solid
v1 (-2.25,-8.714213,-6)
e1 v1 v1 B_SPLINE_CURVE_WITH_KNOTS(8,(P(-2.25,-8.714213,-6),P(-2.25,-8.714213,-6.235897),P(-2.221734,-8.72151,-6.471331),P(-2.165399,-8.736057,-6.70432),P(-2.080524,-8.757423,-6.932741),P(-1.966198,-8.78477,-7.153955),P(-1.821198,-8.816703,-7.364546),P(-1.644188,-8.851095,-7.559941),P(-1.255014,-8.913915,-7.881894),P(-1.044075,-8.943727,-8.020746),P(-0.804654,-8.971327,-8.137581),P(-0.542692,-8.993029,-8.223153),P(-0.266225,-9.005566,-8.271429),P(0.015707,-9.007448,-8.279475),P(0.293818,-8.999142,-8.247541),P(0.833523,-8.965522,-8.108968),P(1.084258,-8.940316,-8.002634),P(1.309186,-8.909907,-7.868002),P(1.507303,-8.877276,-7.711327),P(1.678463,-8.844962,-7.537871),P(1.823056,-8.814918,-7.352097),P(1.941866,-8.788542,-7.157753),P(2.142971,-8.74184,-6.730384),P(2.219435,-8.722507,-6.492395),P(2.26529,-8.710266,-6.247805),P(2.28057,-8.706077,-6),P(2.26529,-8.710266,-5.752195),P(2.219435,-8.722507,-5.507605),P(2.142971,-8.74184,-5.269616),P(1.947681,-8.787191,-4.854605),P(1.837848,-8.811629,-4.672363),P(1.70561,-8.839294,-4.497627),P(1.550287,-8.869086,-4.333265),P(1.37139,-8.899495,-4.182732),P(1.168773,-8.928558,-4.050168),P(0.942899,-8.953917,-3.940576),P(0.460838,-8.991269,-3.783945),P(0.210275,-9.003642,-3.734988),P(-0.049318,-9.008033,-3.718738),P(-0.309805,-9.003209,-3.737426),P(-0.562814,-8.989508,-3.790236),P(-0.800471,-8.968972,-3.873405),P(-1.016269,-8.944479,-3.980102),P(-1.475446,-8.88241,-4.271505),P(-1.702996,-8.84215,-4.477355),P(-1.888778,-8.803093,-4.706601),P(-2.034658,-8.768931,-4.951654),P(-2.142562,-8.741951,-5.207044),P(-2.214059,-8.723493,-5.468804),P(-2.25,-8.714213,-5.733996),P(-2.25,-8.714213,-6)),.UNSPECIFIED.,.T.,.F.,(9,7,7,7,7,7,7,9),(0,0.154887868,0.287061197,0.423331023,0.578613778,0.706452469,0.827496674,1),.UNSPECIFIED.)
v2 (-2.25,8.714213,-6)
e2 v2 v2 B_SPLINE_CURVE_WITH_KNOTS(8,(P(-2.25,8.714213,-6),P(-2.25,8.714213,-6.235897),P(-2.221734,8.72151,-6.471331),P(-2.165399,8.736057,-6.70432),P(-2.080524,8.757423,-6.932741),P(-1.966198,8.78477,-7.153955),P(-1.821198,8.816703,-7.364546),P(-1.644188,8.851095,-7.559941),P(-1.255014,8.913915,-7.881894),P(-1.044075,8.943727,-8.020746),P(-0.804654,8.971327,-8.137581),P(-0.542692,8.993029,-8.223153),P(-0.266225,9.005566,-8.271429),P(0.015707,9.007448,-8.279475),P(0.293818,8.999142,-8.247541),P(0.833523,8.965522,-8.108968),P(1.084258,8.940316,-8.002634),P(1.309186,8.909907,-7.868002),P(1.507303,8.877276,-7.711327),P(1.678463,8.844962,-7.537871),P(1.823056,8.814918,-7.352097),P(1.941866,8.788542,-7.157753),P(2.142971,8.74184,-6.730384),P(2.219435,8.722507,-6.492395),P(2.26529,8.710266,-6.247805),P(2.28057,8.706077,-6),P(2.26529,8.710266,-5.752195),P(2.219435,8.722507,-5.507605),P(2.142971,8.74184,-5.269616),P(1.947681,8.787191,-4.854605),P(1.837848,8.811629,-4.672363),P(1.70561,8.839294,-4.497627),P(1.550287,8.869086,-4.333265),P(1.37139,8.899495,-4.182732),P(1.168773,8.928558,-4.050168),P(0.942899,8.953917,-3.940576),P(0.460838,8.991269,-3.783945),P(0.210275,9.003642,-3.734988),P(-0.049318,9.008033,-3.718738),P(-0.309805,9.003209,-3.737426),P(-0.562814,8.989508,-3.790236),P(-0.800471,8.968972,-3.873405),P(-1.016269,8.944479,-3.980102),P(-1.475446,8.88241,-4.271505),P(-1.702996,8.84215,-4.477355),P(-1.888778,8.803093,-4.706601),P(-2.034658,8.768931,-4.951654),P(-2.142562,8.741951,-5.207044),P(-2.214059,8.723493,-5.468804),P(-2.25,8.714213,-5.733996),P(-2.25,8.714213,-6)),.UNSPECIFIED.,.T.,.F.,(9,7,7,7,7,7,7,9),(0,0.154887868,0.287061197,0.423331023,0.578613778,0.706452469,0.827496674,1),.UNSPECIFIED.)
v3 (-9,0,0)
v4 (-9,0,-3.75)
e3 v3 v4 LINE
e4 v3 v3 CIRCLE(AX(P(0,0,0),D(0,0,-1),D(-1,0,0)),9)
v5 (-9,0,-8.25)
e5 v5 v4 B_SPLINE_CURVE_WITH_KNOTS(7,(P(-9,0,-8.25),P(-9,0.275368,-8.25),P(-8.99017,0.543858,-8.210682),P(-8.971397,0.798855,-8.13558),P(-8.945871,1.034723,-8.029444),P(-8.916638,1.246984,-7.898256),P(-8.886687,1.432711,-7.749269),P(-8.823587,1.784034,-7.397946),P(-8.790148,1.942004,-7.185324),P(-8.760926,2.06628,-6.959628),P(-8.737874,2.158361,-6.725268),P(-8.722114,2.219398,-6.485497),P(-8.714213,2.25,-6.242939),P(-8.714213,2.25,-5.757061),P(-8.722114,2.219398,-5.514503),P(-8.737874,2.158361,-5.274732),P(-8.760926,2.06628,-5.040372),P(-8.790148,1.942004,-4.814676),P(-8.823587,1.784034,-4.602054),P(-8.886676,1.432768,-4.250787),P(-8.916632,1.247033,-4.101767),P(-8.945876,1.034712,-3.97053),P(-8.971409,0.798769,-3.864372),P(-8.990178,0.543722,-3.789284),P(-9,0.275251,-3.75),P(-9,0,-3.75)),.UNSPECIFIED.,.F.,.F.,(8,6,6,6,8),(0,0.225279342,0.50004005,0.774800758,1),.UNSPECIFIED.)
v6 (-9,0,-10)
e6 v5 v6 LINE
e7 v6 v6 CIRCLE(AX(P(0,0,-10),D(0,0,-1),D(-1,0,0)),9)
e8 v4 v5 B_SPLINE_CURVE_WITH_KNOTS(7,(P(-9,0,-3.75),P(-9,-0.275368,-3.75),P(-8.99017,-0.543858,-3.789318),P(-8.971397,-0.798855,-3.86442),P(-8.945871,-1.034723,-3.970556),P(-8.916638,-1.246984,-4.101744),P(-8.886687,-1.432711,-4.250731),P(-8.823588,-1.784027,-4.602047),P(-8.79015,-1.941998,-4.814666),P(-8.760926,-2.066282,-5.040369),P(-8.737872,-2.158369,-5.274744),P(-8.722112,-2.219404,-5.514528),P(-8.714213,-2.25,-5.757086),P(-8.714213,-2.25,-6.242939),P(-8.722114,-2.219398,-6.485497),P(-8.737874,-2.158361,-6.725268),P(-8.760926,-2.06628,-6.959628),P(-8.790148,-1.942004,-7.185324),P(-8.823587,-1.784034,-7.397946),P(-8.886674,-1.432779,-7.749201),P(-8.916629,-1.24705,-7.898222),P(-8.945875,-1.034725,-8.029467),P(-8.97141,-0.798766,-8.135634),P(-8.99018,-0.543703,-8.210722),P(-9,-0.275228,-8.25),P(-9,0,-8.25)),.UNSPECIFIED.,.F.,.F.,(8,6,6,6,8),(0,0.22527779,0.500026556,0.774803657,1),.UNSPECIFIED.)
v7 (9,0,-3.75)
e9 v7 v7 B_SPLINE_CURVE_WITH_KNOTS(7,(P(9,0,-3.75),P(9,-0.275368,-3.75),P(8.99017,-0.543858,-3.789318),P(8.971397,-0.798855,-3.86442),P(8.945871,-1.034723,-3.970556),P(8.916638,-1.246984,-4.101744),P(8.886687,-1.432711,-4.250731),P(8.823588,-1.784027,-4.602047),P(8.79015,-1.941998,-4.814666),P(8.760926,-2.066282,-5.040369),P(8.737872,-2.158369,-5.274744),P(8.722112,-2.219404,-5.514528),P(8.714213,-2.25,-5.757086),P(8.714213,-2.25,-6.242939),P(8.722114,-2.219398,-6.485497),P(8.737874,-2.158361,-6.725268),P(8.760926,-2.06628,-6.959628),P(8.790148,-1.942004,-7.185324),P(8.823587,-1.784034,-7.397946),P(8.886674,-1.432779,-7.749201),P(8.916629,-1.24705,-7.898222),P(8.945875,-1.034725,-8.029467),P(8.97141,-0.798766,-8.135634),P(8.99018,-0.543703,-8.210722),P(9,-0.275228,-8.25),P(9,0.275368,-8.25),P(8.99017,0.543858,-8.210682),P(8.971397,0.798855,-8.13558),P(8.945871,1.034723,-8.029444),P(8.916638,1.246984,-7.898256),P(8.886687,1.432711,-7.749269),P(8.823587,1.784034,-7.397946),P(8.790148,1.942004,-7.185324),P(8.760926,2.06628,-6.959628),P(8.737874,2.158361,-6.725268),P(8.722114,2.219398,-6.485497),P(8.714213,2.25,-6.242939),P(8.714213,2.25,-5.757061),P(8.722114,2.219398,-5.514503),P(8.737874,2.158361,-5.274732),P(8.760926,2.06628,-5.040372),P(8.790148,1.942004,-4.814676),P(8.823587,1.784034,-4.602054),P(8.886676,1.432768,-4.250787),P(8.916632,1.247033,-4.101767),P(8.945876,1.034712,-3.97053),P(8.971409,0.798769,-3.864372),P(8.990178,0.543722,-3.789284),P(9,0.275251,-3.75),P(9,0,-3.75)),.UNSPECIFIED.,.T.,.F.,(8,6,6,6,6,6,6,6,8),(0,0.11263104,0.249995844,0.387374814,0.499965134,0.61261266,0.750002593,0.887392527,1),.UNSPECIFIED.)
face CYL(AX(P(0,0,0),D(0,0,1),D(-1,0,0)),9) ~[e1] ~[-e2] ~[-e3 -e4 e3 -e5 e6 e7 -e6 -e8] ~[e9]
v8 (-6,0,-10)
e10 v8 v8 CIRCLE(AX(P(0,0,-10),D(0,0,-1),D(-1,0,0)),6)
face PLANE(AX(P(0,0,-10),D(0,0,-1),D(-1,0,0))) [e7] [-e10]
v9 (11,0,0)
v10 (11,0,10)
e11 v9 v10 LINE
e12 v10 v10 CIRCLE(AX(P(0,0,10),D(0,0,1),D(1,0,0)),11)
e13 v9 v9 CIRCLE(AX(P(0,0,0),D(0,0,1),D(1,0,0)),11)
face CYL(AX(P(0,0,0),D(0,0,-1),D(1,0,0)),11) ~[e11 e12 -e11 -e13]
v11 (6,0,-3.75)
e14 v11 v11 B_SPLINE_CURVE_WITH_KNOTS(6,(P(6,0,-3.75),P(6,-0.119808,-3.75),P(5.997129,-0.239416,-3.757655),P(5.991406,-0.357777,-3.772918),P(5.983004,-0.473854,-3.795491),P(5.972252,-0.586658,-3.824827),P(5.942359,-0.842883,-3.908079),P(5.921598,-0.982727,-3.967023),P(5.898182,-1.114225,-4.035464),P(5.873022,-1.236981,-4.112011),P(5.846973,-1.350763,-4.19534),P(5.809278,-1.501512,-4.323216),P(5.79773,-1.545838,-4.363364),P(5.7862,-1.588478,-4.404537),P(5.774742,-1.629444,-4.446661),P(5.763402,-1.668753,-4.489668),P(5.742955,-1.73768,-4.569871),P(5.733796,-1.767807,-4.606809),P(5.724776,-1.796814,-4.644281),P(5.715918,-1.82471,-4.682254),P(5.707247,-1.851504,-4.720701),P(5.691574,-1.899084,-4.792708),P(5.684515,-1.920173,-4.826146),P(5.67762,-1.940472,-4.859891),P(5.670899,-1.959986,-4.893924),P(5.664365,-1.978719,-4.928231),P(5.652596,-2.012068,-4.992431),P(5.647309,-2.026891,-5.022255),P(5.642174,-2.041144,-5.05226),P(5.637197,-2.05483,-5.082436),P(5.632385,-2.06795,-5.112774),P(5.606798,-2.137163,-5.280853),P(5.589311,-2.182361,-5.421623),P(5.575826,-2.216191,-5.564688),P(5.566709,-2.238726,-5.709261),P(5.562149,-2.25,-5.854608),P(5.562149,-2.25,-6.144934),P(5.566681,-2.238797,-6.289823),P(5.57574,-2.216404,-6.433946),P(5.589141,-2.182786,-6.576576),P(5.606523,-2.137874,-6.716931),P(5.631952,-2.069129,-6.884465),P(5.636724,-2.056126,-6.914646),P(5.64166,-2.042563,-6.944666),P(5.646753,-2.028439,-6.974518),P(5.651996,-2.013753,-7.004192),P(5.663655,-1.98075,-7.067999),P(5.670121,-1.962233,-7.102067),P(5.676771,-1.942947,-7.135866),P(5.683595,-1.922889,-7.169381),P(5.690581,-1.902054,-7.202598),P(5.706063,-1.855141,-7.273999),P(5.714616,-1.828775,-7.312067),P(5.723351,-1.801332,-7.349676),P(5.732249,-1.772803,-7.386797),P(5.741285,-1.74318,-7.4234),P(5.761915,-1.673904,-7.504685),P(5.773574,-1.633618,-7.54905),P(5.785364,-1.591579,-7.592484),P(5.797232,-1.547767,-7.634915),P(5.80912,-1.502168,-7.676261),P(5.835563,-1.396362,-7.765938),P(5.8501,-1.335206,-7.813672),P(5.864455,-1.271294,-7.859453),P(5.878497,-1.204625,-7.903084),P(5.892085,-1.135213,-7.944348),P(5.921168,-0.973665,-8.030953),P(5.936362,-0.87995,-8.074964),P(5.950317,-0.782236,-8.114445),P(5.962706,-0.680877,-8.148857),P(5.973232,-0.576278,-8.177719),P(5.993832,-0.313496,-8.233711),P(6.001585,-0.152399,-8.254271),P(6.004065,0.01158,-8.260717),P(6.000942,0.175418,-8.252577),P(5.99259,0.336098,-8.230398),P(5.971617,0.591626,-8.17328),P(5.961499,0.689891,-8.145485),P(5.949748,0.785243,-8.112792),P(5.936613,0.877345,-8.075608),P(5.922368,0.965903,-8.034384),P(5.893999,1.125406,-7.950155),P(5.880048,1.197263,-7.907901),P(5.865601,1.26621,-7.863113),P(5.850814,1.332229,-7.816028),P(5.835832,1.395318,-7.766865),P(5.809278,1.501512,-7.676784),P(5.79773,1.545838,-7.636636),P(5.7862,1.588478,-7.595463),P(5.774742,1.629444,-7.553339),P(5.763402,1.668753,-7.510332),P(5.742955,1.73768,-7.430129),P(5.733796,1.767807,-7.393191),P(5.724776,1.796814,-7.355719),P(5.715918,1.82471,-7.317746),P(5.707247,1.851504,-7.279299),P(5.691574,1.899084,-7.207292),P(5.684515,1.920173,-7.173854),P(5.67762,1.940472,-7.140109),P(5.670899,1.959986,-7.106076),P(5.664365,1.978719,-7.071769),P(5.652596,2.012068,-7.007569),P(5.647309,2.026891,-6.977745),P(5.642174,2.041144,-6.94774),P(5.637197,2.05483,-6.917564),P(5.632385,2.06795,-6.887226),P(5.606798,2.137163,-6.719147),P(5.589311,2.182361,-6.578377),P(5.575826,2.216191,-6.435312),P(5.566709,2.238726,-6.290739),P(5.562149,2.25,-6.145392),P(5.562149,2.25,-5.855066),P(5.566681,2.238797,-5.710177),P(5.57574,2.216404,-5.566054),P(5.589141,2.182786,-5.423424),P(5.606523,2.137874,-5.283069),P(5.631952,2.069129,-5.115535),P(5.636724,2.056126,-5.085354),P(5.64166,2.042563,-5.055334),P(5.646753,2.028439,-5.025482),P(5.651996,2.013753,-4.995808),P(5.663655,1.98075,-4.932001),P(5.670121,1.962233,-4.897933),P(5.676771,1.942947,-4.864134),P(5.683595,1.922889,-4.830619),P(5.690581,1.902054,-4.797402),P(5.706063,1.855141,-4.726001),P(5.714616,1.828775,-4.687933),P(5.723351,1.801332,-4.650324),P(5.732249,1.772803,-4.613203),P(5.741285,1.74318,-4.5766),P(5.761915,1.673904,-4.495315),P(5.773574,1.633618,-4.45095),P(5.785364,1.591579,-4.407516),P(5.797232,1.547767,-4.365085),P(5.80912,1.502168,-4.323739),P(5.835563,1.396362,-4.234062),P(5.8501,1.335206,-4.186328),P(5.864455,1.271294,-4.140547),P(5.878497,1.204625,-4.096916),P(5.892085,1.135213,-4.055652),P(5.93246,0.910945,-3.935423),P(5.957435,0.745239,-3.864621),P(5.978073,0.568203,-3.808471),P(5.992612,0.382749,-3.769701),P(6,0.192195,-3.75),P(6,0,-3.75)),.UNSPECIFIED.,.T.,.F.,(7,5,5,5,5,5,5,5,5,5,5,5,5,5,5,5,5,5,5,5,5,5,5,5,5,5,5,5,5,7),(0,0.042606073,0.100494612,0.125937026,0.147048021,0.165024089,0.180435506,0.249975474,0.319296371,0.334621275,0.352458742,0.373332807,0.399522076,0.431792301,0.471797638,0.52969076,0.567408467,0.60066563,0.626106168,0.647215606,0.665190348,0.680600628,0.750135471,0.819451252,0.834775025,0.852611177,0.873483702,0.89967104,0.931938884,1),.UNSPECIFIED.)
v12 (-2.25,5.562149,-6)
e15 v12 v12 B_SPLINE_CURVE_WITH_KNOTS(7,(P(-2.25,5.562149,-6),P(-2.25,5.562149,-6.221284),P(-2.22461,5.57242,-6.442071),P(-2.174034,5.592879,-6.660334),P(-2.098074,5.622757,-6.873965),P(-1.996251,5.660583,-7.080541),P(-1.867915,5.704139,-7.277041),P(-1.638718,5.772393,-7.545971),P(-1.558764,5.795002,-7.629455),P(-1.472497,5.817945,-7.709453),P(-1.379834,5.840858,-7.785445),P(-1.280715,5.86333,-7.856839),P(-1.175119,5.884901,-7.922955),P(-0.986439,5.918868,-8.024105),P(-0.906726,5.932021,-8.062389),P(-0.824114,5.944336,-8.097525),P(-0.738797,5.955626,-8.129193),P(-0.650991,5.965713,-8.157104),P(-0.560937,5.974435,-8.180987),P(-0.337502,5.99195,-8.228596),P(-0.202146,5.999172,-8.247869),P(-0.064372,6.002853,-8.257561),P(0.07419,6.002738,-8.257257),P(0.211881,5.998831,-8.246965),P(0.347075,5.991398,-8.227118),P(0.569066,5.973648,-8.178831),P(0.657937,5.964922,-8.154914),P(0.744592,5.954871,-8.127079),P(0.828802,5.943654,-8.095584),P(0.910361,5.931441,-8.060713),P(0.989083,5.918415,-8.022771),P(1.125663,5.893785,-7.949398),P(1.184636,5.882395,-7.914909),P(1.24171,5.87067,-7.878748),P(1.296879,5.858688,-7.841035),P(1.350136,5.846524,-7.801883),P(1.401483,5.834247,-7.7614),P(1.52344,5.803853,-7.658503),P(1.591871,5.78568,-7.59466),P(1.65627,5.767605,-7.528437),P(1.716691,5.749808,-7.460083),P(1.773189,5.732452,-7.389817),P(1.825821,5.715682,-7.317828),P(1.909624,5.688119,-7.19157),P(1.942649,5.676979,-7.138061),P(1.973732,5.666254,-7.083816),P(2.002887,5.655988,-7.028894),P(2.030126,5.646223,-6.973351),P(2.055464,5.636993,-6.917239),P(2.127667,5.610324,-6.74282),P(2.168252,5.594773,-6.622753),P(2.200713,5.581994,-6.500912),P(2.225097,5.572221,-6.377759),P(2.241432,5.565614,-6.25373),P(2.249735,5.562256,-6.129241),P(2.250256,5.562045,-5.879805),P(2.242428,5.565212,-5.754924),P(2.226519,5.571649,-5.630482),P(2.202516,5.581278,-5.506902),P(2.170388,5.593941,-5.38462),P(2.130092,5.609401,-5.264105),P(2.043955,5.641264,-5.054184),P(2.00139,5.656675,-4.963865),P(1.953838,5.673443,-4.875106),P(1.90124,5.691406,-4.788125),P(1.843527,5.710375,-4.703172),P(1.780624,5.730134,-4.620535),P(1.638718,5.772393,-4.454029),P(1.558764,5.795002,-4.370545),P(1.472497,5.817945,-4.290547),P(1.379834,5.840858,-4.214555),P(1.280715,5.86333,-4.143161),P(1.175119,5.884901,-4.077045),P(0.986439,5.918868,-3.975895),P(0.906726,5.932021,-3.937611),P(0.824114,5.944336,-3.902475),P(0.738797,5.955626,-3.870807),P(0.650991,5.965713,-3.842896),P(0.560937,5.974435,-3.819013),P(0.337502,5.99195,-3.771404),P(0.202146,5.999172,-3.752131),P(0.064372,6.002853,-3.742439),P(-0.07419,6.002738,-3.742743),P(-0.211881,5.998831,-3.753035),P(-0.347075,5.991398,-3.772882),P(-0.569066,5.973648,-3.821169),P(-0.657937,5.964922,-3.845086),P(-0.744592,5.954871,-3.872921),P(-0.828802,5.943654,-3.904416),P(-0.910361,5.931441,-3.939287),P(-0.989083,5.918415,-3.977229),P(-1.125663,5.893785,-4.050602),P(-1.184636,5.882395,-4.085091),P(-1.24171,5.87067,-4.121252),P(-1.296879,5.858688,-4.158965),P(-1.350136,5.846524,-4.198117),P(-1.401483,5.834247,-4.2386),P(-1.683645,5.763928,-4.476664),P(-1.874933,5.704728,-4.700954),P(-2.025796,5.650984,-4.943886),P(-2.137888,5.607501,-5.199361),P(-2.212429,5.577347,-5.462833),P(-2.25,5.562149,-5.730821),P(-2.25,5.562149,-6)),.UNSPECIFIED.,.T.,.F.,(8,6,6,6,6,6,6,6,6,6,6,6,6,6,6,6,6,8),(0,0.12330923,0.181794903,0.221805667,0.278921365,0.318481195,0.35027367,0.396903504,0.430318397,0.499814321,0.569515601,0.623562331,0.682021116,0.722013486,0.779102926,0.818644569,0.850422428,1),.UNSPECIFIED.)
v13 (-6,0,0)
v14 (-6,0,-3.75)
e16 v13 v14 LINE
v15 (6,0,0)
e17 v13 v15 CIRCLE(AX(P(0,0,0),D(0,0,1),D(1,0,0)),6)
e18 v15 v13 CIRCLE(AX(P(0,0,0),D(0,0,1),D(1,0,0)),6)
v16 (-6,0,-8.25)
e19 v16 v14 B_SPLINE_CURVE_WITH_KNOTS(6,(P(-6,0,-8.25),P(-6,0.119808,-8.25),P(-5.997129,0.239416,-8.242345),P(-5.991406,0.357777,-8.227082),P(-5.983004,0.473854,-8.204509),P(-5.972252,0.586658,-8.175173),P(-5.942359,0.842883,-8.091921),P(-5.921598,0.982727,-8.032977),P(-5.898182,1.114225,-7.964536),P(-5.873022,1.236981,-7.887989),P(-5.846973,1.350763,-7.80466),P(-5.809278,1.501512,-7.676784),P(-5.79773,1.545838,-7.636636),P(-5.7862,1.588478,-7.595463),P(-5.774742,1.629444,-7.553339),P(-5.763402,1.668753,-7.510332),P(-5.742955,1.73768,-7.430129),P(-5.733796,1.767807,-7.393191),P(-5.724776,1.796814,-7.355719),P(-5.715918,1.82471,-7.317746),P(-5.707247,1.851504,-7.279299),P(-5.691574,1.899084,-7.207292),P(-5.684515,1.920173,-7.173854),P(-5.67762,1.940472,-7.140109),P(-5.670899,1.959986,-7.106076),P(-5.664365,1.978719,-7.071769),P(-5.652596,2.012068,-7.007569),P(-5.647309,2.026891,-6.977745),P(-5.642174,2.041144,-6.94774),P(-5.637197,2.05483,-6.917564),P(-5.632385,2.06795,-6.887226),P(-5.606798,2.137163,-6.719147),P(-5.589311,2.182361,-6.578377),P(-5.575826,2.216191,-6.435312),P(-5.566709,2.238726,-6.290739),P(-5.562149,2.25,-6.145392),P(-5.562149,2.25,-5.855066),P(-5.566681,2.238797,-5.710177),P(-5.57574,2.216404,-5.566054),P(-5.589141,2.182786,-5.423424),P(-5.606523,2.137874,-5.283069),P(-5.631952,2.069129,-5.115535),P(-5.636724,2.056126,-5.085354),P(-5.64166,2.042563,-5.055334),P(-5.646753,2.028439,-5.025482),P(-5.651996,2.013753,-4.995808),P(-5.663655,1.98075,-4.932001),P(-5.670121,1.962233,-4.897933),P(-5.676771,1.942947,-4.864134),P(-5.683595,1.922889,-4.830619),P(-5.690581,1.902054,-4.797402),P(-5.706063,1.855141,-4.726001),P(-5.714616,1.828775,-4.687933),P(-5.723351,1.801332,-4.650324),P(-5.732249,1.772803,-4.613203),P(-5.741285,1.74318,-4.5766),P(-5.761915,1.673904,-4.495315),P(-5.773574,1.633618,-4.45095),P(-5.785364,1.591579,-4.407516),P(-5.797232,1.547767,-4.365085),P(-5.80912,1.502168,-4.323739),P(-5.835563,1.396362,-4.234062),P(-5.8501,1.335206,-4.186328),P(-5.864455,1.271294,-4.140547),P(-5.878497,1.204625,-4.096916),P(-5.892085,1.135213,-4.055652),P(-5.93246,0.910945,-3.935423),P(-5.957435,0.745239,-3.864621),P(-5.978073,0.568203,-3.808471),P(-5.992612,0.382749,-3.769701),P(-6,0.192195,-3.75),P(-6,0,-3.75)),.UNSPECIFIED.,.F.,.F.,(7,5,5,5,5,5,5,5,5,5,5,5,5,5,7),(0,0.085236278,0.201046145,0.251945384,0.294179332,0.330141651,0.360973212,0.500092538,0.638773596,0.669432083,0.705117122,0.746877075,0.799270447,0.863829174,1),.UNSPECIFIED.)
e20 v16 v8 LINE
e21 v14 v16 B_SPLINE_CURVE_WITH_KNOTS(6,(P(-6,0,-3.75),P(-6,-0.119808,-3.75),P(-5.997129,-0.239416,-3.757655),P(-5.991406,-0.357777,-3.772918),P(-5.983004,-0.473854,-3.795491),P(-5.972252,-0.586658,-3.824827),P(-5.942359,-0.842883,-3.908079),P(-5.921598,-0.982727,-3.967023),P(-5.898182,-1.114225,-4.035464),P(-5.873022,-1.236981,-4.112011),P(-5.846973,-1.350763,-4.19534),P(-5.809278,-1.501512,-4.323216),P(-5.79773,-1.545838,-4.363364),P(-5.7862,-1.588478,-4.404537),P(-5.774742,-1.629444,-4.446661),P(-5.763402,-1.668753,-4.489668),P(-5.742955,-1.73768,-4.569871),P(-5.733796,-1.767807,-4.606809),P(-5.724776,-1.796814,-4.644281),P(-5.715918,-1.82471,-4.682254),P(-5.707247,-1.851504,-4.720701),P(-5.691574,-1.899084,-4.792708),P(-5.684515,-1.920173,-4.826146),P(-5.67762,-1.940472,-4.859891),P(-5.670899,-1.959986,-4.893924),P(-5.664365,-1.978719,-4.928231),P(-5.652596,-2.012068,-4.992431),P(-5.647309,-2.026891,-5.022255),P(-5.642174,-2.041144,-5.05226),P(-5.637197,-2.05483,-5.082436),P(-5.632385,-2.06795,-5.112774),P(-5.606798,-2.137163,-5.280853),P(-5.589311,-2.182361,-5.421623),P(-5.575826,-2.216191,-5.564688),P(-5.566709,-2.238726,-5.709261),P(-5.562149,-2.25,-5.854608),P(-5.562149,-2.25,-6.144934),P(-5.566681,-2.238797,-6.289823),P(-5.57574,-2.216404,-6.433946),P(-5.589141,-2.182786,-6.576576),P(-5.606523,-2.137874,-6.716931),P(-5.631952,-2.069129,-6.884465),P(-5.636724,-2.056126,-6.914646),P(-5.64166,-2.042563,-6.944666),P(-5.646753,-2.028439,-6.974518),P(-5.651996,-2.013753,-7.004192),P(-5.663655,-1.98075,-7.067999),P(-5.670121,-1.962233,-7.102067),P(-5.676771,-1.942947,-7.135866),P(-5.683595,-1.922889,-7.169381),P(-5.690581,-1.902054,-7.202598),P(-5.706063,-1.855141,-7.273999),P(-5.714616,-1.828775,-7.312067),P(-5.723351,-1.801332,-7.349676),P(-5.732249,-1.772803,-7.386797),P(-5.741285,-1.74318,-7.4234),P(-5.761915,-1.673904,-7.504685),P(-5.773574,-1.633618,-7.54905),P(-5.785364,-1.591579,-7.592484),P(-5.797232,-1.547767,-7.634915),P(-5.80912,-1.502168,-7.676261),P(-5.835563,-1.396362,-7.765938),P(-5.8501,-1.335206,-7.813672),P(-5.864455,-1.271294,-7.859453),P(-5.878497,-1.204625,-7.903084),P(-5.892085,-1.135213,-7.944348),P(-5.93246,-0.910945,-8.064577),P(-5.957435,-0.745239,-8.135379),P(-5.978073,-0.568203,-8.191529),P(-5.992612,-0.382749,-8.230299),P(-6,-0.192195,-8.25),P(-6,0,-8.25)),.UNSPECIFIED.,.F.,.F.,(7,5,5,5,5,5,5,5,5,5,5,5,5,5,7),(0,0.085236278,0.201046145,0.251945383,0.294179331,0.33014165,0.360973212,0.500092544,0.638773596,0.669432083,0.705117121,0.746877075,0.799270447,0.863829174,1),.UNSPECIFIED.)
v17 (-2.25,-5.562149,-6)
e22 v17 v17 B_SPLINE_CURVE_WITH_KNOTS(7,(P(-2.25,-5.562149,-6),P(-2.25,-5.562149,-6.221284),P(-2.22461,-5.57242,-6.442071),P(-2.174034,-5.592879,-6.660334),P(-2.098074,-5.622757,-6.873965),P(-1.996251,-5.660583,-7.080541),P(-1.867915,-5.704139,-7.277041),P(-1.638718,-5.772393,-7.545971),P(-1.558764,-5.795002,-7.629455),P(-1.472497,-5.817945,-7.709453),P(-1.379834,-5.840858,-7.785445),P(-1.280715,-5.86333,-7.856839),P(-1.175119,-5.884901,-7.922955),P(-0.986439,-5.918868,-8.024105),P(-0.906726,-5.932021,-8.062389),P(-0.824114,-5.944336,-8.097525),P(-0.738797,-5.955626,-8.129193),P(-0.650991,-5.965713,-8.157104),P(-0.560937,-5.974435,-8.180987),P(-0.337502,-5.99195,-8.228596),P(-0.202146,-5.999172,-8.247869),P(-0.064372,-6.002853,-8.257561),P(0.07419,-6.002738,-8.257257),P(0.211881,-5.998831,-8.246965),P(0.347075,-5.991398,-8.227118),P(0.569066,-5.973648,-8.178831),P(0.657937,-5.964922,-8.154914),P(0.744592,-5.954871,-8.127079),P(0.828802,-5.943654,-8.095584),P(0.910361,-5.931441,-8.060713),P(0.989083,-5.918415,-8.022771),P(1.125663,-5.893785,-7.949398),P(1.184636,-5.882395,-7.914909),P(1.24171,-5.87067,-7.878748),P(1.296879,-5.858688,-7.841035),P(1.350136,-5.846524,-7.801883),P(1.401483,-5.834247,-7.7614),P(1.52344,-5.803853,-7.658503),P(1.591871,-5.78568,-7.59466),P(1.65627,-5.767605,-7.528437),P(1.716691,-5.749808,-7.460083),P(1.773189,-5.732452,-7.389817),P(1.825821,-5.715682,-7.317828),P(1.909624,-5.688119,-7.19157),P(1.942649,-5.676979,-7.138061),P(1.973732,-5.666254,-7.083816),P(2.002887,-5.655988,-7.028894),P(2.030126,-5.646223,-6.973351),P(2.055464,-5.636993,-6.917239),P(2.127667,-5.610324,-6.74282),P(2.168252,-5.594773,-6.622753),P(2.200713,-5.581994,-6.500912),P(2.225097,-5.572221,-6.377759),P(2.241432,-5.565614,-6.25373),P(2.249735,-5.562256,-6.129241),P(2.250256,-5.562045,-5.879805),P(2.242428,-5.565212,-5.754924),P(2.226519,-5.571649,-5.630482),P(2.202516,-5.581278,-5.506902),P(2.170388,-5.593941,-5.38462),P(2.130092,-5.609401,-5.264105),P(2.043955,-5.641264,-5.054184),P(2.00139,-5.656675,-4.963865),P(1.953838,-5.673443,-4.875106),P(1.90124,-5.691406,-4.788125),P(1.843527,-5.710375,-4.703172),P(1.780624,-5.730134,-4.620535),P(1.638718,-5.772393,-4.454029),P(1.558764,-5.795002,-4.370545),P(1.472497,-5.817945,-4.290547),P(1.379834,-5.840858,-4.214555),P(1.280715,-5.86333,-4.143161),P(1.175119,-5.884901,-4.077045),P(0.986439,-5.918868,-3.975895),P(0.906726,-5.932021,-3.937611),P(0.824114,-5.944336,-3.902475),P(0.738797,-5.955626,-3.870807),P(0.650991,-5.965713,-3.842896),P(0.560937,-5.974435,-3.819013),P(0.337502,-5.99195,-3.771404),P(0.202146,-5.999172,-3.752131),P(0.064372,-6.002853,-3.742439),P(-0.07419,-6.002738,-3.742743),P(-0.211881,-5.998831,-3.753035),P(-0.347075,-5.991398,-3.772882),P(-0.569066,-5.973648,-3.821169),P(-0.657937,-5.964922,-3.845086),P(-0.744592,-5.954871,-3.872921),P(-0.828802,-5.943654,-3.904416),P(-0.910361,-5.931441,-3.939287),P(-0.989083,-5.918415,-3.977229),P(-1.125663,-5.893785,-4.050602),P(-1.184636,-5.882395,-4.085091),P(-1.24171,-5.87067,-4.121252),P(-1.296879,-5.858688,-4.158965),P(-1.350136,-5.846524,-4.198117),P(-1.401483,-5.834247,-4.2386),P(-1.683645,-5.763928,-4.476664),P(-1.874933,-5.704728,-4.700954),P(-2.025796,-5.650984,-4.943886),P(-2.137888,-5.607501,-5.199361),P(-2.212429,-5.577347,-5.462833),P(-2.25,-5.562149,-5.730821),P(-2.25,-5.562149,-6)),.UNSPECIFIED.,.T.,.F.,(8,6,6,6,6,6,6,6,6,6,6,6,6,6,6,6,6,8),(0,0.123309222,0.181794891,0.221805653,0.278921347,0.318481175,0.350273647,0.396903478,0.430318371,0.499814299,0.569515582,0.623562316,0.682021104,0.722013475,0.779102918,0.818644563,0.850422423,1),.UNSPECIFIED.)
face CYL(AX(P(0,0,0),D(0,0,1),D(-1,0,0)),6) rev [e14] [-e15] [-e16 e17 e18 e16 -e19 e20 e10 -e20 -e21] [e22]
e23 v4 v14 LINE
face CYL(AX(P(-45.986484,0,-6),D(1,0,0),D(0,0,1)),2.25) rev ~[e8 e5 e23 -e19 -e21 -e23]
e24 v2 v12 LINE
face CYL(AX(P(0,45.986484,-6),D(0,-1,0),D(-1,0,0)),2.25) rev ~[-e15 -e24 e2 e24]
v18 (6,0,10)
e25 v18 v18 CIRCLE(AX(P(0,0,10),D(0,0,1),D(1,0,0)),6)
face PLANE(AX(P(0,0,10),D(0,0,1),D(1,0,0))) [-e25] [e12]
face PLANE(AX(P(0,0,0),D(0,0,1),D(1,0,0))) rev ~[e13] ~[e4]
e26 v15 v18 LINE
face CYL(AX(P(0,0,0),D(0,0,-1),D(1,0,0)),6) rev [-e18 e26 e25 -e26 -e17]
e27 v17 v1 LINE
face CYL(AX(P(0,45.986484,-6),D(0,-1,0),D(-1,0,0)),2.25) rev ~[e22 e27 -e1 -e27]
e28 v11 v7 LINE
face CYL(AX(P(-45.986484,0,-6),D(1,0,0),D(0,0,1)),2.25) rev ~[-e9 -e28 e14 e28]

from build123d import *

# Parameters (mm, degrees)
ESQUISSE1_R                = 11
ESQUISSE1_R_2              = 6
BOSS_EXTRU_1_DEPTH         = 10
ESQUISSE2_R                = 9
ESQUISSE2_R_2              = 6
BOSS_EXTRU_2_DEPTH         = 10
D_GAGEMENT_M41_D           = 4.5
D_GAGEMENT_M41_ON_FACE_2_D = 4.5


with BuildPart() as part:
    # Esquisse1 → Boss.-Extru.1 (new body)
    with BuildSketch(Plane.XY):
        Circle(ESQUISSE1_R)
        Circle(ESQUISSE1_R_2, mode=Mode.SUBTRACT)
    extrude(amount=BOSS_EXTRU_1_DEPTH)

    # Esquisse2 → Boss.-Extru.2 (add)
    with BuildSketch(Plane(origin=(0, 0, 0), x_dir=(-1, 0, 0), z_dir=(0, 0, -1))):
        Circle(ESQUISSE2_R)
        Circle(ESQUISSE2_R_2, mode=Mode.SUBTRACT)
    extrude(amount=BOSS_EXTRU_2_DEPTH)

    # Dégagement M41 (through all)
    with Locations(Plane(origin=(0, 9, -6), x_dir=(1, 0, 0), z_dir=(0, 1, 0))):
        with Locations((0, 0)):
            Hole(D_GAGEMENT_M41_D / 2)

    # Dégagement M41 on face 2 (through all)
    with Locations(Plane(origin=(-9, 0, -6), x_dir=(0, 0, -1), z_dir=(-1, 0, 0))):
        with Locations((0, 0)):
            Hole(D_GAGEMENT_M41_ON_FACE_2_D / 2)


solid = part.part
